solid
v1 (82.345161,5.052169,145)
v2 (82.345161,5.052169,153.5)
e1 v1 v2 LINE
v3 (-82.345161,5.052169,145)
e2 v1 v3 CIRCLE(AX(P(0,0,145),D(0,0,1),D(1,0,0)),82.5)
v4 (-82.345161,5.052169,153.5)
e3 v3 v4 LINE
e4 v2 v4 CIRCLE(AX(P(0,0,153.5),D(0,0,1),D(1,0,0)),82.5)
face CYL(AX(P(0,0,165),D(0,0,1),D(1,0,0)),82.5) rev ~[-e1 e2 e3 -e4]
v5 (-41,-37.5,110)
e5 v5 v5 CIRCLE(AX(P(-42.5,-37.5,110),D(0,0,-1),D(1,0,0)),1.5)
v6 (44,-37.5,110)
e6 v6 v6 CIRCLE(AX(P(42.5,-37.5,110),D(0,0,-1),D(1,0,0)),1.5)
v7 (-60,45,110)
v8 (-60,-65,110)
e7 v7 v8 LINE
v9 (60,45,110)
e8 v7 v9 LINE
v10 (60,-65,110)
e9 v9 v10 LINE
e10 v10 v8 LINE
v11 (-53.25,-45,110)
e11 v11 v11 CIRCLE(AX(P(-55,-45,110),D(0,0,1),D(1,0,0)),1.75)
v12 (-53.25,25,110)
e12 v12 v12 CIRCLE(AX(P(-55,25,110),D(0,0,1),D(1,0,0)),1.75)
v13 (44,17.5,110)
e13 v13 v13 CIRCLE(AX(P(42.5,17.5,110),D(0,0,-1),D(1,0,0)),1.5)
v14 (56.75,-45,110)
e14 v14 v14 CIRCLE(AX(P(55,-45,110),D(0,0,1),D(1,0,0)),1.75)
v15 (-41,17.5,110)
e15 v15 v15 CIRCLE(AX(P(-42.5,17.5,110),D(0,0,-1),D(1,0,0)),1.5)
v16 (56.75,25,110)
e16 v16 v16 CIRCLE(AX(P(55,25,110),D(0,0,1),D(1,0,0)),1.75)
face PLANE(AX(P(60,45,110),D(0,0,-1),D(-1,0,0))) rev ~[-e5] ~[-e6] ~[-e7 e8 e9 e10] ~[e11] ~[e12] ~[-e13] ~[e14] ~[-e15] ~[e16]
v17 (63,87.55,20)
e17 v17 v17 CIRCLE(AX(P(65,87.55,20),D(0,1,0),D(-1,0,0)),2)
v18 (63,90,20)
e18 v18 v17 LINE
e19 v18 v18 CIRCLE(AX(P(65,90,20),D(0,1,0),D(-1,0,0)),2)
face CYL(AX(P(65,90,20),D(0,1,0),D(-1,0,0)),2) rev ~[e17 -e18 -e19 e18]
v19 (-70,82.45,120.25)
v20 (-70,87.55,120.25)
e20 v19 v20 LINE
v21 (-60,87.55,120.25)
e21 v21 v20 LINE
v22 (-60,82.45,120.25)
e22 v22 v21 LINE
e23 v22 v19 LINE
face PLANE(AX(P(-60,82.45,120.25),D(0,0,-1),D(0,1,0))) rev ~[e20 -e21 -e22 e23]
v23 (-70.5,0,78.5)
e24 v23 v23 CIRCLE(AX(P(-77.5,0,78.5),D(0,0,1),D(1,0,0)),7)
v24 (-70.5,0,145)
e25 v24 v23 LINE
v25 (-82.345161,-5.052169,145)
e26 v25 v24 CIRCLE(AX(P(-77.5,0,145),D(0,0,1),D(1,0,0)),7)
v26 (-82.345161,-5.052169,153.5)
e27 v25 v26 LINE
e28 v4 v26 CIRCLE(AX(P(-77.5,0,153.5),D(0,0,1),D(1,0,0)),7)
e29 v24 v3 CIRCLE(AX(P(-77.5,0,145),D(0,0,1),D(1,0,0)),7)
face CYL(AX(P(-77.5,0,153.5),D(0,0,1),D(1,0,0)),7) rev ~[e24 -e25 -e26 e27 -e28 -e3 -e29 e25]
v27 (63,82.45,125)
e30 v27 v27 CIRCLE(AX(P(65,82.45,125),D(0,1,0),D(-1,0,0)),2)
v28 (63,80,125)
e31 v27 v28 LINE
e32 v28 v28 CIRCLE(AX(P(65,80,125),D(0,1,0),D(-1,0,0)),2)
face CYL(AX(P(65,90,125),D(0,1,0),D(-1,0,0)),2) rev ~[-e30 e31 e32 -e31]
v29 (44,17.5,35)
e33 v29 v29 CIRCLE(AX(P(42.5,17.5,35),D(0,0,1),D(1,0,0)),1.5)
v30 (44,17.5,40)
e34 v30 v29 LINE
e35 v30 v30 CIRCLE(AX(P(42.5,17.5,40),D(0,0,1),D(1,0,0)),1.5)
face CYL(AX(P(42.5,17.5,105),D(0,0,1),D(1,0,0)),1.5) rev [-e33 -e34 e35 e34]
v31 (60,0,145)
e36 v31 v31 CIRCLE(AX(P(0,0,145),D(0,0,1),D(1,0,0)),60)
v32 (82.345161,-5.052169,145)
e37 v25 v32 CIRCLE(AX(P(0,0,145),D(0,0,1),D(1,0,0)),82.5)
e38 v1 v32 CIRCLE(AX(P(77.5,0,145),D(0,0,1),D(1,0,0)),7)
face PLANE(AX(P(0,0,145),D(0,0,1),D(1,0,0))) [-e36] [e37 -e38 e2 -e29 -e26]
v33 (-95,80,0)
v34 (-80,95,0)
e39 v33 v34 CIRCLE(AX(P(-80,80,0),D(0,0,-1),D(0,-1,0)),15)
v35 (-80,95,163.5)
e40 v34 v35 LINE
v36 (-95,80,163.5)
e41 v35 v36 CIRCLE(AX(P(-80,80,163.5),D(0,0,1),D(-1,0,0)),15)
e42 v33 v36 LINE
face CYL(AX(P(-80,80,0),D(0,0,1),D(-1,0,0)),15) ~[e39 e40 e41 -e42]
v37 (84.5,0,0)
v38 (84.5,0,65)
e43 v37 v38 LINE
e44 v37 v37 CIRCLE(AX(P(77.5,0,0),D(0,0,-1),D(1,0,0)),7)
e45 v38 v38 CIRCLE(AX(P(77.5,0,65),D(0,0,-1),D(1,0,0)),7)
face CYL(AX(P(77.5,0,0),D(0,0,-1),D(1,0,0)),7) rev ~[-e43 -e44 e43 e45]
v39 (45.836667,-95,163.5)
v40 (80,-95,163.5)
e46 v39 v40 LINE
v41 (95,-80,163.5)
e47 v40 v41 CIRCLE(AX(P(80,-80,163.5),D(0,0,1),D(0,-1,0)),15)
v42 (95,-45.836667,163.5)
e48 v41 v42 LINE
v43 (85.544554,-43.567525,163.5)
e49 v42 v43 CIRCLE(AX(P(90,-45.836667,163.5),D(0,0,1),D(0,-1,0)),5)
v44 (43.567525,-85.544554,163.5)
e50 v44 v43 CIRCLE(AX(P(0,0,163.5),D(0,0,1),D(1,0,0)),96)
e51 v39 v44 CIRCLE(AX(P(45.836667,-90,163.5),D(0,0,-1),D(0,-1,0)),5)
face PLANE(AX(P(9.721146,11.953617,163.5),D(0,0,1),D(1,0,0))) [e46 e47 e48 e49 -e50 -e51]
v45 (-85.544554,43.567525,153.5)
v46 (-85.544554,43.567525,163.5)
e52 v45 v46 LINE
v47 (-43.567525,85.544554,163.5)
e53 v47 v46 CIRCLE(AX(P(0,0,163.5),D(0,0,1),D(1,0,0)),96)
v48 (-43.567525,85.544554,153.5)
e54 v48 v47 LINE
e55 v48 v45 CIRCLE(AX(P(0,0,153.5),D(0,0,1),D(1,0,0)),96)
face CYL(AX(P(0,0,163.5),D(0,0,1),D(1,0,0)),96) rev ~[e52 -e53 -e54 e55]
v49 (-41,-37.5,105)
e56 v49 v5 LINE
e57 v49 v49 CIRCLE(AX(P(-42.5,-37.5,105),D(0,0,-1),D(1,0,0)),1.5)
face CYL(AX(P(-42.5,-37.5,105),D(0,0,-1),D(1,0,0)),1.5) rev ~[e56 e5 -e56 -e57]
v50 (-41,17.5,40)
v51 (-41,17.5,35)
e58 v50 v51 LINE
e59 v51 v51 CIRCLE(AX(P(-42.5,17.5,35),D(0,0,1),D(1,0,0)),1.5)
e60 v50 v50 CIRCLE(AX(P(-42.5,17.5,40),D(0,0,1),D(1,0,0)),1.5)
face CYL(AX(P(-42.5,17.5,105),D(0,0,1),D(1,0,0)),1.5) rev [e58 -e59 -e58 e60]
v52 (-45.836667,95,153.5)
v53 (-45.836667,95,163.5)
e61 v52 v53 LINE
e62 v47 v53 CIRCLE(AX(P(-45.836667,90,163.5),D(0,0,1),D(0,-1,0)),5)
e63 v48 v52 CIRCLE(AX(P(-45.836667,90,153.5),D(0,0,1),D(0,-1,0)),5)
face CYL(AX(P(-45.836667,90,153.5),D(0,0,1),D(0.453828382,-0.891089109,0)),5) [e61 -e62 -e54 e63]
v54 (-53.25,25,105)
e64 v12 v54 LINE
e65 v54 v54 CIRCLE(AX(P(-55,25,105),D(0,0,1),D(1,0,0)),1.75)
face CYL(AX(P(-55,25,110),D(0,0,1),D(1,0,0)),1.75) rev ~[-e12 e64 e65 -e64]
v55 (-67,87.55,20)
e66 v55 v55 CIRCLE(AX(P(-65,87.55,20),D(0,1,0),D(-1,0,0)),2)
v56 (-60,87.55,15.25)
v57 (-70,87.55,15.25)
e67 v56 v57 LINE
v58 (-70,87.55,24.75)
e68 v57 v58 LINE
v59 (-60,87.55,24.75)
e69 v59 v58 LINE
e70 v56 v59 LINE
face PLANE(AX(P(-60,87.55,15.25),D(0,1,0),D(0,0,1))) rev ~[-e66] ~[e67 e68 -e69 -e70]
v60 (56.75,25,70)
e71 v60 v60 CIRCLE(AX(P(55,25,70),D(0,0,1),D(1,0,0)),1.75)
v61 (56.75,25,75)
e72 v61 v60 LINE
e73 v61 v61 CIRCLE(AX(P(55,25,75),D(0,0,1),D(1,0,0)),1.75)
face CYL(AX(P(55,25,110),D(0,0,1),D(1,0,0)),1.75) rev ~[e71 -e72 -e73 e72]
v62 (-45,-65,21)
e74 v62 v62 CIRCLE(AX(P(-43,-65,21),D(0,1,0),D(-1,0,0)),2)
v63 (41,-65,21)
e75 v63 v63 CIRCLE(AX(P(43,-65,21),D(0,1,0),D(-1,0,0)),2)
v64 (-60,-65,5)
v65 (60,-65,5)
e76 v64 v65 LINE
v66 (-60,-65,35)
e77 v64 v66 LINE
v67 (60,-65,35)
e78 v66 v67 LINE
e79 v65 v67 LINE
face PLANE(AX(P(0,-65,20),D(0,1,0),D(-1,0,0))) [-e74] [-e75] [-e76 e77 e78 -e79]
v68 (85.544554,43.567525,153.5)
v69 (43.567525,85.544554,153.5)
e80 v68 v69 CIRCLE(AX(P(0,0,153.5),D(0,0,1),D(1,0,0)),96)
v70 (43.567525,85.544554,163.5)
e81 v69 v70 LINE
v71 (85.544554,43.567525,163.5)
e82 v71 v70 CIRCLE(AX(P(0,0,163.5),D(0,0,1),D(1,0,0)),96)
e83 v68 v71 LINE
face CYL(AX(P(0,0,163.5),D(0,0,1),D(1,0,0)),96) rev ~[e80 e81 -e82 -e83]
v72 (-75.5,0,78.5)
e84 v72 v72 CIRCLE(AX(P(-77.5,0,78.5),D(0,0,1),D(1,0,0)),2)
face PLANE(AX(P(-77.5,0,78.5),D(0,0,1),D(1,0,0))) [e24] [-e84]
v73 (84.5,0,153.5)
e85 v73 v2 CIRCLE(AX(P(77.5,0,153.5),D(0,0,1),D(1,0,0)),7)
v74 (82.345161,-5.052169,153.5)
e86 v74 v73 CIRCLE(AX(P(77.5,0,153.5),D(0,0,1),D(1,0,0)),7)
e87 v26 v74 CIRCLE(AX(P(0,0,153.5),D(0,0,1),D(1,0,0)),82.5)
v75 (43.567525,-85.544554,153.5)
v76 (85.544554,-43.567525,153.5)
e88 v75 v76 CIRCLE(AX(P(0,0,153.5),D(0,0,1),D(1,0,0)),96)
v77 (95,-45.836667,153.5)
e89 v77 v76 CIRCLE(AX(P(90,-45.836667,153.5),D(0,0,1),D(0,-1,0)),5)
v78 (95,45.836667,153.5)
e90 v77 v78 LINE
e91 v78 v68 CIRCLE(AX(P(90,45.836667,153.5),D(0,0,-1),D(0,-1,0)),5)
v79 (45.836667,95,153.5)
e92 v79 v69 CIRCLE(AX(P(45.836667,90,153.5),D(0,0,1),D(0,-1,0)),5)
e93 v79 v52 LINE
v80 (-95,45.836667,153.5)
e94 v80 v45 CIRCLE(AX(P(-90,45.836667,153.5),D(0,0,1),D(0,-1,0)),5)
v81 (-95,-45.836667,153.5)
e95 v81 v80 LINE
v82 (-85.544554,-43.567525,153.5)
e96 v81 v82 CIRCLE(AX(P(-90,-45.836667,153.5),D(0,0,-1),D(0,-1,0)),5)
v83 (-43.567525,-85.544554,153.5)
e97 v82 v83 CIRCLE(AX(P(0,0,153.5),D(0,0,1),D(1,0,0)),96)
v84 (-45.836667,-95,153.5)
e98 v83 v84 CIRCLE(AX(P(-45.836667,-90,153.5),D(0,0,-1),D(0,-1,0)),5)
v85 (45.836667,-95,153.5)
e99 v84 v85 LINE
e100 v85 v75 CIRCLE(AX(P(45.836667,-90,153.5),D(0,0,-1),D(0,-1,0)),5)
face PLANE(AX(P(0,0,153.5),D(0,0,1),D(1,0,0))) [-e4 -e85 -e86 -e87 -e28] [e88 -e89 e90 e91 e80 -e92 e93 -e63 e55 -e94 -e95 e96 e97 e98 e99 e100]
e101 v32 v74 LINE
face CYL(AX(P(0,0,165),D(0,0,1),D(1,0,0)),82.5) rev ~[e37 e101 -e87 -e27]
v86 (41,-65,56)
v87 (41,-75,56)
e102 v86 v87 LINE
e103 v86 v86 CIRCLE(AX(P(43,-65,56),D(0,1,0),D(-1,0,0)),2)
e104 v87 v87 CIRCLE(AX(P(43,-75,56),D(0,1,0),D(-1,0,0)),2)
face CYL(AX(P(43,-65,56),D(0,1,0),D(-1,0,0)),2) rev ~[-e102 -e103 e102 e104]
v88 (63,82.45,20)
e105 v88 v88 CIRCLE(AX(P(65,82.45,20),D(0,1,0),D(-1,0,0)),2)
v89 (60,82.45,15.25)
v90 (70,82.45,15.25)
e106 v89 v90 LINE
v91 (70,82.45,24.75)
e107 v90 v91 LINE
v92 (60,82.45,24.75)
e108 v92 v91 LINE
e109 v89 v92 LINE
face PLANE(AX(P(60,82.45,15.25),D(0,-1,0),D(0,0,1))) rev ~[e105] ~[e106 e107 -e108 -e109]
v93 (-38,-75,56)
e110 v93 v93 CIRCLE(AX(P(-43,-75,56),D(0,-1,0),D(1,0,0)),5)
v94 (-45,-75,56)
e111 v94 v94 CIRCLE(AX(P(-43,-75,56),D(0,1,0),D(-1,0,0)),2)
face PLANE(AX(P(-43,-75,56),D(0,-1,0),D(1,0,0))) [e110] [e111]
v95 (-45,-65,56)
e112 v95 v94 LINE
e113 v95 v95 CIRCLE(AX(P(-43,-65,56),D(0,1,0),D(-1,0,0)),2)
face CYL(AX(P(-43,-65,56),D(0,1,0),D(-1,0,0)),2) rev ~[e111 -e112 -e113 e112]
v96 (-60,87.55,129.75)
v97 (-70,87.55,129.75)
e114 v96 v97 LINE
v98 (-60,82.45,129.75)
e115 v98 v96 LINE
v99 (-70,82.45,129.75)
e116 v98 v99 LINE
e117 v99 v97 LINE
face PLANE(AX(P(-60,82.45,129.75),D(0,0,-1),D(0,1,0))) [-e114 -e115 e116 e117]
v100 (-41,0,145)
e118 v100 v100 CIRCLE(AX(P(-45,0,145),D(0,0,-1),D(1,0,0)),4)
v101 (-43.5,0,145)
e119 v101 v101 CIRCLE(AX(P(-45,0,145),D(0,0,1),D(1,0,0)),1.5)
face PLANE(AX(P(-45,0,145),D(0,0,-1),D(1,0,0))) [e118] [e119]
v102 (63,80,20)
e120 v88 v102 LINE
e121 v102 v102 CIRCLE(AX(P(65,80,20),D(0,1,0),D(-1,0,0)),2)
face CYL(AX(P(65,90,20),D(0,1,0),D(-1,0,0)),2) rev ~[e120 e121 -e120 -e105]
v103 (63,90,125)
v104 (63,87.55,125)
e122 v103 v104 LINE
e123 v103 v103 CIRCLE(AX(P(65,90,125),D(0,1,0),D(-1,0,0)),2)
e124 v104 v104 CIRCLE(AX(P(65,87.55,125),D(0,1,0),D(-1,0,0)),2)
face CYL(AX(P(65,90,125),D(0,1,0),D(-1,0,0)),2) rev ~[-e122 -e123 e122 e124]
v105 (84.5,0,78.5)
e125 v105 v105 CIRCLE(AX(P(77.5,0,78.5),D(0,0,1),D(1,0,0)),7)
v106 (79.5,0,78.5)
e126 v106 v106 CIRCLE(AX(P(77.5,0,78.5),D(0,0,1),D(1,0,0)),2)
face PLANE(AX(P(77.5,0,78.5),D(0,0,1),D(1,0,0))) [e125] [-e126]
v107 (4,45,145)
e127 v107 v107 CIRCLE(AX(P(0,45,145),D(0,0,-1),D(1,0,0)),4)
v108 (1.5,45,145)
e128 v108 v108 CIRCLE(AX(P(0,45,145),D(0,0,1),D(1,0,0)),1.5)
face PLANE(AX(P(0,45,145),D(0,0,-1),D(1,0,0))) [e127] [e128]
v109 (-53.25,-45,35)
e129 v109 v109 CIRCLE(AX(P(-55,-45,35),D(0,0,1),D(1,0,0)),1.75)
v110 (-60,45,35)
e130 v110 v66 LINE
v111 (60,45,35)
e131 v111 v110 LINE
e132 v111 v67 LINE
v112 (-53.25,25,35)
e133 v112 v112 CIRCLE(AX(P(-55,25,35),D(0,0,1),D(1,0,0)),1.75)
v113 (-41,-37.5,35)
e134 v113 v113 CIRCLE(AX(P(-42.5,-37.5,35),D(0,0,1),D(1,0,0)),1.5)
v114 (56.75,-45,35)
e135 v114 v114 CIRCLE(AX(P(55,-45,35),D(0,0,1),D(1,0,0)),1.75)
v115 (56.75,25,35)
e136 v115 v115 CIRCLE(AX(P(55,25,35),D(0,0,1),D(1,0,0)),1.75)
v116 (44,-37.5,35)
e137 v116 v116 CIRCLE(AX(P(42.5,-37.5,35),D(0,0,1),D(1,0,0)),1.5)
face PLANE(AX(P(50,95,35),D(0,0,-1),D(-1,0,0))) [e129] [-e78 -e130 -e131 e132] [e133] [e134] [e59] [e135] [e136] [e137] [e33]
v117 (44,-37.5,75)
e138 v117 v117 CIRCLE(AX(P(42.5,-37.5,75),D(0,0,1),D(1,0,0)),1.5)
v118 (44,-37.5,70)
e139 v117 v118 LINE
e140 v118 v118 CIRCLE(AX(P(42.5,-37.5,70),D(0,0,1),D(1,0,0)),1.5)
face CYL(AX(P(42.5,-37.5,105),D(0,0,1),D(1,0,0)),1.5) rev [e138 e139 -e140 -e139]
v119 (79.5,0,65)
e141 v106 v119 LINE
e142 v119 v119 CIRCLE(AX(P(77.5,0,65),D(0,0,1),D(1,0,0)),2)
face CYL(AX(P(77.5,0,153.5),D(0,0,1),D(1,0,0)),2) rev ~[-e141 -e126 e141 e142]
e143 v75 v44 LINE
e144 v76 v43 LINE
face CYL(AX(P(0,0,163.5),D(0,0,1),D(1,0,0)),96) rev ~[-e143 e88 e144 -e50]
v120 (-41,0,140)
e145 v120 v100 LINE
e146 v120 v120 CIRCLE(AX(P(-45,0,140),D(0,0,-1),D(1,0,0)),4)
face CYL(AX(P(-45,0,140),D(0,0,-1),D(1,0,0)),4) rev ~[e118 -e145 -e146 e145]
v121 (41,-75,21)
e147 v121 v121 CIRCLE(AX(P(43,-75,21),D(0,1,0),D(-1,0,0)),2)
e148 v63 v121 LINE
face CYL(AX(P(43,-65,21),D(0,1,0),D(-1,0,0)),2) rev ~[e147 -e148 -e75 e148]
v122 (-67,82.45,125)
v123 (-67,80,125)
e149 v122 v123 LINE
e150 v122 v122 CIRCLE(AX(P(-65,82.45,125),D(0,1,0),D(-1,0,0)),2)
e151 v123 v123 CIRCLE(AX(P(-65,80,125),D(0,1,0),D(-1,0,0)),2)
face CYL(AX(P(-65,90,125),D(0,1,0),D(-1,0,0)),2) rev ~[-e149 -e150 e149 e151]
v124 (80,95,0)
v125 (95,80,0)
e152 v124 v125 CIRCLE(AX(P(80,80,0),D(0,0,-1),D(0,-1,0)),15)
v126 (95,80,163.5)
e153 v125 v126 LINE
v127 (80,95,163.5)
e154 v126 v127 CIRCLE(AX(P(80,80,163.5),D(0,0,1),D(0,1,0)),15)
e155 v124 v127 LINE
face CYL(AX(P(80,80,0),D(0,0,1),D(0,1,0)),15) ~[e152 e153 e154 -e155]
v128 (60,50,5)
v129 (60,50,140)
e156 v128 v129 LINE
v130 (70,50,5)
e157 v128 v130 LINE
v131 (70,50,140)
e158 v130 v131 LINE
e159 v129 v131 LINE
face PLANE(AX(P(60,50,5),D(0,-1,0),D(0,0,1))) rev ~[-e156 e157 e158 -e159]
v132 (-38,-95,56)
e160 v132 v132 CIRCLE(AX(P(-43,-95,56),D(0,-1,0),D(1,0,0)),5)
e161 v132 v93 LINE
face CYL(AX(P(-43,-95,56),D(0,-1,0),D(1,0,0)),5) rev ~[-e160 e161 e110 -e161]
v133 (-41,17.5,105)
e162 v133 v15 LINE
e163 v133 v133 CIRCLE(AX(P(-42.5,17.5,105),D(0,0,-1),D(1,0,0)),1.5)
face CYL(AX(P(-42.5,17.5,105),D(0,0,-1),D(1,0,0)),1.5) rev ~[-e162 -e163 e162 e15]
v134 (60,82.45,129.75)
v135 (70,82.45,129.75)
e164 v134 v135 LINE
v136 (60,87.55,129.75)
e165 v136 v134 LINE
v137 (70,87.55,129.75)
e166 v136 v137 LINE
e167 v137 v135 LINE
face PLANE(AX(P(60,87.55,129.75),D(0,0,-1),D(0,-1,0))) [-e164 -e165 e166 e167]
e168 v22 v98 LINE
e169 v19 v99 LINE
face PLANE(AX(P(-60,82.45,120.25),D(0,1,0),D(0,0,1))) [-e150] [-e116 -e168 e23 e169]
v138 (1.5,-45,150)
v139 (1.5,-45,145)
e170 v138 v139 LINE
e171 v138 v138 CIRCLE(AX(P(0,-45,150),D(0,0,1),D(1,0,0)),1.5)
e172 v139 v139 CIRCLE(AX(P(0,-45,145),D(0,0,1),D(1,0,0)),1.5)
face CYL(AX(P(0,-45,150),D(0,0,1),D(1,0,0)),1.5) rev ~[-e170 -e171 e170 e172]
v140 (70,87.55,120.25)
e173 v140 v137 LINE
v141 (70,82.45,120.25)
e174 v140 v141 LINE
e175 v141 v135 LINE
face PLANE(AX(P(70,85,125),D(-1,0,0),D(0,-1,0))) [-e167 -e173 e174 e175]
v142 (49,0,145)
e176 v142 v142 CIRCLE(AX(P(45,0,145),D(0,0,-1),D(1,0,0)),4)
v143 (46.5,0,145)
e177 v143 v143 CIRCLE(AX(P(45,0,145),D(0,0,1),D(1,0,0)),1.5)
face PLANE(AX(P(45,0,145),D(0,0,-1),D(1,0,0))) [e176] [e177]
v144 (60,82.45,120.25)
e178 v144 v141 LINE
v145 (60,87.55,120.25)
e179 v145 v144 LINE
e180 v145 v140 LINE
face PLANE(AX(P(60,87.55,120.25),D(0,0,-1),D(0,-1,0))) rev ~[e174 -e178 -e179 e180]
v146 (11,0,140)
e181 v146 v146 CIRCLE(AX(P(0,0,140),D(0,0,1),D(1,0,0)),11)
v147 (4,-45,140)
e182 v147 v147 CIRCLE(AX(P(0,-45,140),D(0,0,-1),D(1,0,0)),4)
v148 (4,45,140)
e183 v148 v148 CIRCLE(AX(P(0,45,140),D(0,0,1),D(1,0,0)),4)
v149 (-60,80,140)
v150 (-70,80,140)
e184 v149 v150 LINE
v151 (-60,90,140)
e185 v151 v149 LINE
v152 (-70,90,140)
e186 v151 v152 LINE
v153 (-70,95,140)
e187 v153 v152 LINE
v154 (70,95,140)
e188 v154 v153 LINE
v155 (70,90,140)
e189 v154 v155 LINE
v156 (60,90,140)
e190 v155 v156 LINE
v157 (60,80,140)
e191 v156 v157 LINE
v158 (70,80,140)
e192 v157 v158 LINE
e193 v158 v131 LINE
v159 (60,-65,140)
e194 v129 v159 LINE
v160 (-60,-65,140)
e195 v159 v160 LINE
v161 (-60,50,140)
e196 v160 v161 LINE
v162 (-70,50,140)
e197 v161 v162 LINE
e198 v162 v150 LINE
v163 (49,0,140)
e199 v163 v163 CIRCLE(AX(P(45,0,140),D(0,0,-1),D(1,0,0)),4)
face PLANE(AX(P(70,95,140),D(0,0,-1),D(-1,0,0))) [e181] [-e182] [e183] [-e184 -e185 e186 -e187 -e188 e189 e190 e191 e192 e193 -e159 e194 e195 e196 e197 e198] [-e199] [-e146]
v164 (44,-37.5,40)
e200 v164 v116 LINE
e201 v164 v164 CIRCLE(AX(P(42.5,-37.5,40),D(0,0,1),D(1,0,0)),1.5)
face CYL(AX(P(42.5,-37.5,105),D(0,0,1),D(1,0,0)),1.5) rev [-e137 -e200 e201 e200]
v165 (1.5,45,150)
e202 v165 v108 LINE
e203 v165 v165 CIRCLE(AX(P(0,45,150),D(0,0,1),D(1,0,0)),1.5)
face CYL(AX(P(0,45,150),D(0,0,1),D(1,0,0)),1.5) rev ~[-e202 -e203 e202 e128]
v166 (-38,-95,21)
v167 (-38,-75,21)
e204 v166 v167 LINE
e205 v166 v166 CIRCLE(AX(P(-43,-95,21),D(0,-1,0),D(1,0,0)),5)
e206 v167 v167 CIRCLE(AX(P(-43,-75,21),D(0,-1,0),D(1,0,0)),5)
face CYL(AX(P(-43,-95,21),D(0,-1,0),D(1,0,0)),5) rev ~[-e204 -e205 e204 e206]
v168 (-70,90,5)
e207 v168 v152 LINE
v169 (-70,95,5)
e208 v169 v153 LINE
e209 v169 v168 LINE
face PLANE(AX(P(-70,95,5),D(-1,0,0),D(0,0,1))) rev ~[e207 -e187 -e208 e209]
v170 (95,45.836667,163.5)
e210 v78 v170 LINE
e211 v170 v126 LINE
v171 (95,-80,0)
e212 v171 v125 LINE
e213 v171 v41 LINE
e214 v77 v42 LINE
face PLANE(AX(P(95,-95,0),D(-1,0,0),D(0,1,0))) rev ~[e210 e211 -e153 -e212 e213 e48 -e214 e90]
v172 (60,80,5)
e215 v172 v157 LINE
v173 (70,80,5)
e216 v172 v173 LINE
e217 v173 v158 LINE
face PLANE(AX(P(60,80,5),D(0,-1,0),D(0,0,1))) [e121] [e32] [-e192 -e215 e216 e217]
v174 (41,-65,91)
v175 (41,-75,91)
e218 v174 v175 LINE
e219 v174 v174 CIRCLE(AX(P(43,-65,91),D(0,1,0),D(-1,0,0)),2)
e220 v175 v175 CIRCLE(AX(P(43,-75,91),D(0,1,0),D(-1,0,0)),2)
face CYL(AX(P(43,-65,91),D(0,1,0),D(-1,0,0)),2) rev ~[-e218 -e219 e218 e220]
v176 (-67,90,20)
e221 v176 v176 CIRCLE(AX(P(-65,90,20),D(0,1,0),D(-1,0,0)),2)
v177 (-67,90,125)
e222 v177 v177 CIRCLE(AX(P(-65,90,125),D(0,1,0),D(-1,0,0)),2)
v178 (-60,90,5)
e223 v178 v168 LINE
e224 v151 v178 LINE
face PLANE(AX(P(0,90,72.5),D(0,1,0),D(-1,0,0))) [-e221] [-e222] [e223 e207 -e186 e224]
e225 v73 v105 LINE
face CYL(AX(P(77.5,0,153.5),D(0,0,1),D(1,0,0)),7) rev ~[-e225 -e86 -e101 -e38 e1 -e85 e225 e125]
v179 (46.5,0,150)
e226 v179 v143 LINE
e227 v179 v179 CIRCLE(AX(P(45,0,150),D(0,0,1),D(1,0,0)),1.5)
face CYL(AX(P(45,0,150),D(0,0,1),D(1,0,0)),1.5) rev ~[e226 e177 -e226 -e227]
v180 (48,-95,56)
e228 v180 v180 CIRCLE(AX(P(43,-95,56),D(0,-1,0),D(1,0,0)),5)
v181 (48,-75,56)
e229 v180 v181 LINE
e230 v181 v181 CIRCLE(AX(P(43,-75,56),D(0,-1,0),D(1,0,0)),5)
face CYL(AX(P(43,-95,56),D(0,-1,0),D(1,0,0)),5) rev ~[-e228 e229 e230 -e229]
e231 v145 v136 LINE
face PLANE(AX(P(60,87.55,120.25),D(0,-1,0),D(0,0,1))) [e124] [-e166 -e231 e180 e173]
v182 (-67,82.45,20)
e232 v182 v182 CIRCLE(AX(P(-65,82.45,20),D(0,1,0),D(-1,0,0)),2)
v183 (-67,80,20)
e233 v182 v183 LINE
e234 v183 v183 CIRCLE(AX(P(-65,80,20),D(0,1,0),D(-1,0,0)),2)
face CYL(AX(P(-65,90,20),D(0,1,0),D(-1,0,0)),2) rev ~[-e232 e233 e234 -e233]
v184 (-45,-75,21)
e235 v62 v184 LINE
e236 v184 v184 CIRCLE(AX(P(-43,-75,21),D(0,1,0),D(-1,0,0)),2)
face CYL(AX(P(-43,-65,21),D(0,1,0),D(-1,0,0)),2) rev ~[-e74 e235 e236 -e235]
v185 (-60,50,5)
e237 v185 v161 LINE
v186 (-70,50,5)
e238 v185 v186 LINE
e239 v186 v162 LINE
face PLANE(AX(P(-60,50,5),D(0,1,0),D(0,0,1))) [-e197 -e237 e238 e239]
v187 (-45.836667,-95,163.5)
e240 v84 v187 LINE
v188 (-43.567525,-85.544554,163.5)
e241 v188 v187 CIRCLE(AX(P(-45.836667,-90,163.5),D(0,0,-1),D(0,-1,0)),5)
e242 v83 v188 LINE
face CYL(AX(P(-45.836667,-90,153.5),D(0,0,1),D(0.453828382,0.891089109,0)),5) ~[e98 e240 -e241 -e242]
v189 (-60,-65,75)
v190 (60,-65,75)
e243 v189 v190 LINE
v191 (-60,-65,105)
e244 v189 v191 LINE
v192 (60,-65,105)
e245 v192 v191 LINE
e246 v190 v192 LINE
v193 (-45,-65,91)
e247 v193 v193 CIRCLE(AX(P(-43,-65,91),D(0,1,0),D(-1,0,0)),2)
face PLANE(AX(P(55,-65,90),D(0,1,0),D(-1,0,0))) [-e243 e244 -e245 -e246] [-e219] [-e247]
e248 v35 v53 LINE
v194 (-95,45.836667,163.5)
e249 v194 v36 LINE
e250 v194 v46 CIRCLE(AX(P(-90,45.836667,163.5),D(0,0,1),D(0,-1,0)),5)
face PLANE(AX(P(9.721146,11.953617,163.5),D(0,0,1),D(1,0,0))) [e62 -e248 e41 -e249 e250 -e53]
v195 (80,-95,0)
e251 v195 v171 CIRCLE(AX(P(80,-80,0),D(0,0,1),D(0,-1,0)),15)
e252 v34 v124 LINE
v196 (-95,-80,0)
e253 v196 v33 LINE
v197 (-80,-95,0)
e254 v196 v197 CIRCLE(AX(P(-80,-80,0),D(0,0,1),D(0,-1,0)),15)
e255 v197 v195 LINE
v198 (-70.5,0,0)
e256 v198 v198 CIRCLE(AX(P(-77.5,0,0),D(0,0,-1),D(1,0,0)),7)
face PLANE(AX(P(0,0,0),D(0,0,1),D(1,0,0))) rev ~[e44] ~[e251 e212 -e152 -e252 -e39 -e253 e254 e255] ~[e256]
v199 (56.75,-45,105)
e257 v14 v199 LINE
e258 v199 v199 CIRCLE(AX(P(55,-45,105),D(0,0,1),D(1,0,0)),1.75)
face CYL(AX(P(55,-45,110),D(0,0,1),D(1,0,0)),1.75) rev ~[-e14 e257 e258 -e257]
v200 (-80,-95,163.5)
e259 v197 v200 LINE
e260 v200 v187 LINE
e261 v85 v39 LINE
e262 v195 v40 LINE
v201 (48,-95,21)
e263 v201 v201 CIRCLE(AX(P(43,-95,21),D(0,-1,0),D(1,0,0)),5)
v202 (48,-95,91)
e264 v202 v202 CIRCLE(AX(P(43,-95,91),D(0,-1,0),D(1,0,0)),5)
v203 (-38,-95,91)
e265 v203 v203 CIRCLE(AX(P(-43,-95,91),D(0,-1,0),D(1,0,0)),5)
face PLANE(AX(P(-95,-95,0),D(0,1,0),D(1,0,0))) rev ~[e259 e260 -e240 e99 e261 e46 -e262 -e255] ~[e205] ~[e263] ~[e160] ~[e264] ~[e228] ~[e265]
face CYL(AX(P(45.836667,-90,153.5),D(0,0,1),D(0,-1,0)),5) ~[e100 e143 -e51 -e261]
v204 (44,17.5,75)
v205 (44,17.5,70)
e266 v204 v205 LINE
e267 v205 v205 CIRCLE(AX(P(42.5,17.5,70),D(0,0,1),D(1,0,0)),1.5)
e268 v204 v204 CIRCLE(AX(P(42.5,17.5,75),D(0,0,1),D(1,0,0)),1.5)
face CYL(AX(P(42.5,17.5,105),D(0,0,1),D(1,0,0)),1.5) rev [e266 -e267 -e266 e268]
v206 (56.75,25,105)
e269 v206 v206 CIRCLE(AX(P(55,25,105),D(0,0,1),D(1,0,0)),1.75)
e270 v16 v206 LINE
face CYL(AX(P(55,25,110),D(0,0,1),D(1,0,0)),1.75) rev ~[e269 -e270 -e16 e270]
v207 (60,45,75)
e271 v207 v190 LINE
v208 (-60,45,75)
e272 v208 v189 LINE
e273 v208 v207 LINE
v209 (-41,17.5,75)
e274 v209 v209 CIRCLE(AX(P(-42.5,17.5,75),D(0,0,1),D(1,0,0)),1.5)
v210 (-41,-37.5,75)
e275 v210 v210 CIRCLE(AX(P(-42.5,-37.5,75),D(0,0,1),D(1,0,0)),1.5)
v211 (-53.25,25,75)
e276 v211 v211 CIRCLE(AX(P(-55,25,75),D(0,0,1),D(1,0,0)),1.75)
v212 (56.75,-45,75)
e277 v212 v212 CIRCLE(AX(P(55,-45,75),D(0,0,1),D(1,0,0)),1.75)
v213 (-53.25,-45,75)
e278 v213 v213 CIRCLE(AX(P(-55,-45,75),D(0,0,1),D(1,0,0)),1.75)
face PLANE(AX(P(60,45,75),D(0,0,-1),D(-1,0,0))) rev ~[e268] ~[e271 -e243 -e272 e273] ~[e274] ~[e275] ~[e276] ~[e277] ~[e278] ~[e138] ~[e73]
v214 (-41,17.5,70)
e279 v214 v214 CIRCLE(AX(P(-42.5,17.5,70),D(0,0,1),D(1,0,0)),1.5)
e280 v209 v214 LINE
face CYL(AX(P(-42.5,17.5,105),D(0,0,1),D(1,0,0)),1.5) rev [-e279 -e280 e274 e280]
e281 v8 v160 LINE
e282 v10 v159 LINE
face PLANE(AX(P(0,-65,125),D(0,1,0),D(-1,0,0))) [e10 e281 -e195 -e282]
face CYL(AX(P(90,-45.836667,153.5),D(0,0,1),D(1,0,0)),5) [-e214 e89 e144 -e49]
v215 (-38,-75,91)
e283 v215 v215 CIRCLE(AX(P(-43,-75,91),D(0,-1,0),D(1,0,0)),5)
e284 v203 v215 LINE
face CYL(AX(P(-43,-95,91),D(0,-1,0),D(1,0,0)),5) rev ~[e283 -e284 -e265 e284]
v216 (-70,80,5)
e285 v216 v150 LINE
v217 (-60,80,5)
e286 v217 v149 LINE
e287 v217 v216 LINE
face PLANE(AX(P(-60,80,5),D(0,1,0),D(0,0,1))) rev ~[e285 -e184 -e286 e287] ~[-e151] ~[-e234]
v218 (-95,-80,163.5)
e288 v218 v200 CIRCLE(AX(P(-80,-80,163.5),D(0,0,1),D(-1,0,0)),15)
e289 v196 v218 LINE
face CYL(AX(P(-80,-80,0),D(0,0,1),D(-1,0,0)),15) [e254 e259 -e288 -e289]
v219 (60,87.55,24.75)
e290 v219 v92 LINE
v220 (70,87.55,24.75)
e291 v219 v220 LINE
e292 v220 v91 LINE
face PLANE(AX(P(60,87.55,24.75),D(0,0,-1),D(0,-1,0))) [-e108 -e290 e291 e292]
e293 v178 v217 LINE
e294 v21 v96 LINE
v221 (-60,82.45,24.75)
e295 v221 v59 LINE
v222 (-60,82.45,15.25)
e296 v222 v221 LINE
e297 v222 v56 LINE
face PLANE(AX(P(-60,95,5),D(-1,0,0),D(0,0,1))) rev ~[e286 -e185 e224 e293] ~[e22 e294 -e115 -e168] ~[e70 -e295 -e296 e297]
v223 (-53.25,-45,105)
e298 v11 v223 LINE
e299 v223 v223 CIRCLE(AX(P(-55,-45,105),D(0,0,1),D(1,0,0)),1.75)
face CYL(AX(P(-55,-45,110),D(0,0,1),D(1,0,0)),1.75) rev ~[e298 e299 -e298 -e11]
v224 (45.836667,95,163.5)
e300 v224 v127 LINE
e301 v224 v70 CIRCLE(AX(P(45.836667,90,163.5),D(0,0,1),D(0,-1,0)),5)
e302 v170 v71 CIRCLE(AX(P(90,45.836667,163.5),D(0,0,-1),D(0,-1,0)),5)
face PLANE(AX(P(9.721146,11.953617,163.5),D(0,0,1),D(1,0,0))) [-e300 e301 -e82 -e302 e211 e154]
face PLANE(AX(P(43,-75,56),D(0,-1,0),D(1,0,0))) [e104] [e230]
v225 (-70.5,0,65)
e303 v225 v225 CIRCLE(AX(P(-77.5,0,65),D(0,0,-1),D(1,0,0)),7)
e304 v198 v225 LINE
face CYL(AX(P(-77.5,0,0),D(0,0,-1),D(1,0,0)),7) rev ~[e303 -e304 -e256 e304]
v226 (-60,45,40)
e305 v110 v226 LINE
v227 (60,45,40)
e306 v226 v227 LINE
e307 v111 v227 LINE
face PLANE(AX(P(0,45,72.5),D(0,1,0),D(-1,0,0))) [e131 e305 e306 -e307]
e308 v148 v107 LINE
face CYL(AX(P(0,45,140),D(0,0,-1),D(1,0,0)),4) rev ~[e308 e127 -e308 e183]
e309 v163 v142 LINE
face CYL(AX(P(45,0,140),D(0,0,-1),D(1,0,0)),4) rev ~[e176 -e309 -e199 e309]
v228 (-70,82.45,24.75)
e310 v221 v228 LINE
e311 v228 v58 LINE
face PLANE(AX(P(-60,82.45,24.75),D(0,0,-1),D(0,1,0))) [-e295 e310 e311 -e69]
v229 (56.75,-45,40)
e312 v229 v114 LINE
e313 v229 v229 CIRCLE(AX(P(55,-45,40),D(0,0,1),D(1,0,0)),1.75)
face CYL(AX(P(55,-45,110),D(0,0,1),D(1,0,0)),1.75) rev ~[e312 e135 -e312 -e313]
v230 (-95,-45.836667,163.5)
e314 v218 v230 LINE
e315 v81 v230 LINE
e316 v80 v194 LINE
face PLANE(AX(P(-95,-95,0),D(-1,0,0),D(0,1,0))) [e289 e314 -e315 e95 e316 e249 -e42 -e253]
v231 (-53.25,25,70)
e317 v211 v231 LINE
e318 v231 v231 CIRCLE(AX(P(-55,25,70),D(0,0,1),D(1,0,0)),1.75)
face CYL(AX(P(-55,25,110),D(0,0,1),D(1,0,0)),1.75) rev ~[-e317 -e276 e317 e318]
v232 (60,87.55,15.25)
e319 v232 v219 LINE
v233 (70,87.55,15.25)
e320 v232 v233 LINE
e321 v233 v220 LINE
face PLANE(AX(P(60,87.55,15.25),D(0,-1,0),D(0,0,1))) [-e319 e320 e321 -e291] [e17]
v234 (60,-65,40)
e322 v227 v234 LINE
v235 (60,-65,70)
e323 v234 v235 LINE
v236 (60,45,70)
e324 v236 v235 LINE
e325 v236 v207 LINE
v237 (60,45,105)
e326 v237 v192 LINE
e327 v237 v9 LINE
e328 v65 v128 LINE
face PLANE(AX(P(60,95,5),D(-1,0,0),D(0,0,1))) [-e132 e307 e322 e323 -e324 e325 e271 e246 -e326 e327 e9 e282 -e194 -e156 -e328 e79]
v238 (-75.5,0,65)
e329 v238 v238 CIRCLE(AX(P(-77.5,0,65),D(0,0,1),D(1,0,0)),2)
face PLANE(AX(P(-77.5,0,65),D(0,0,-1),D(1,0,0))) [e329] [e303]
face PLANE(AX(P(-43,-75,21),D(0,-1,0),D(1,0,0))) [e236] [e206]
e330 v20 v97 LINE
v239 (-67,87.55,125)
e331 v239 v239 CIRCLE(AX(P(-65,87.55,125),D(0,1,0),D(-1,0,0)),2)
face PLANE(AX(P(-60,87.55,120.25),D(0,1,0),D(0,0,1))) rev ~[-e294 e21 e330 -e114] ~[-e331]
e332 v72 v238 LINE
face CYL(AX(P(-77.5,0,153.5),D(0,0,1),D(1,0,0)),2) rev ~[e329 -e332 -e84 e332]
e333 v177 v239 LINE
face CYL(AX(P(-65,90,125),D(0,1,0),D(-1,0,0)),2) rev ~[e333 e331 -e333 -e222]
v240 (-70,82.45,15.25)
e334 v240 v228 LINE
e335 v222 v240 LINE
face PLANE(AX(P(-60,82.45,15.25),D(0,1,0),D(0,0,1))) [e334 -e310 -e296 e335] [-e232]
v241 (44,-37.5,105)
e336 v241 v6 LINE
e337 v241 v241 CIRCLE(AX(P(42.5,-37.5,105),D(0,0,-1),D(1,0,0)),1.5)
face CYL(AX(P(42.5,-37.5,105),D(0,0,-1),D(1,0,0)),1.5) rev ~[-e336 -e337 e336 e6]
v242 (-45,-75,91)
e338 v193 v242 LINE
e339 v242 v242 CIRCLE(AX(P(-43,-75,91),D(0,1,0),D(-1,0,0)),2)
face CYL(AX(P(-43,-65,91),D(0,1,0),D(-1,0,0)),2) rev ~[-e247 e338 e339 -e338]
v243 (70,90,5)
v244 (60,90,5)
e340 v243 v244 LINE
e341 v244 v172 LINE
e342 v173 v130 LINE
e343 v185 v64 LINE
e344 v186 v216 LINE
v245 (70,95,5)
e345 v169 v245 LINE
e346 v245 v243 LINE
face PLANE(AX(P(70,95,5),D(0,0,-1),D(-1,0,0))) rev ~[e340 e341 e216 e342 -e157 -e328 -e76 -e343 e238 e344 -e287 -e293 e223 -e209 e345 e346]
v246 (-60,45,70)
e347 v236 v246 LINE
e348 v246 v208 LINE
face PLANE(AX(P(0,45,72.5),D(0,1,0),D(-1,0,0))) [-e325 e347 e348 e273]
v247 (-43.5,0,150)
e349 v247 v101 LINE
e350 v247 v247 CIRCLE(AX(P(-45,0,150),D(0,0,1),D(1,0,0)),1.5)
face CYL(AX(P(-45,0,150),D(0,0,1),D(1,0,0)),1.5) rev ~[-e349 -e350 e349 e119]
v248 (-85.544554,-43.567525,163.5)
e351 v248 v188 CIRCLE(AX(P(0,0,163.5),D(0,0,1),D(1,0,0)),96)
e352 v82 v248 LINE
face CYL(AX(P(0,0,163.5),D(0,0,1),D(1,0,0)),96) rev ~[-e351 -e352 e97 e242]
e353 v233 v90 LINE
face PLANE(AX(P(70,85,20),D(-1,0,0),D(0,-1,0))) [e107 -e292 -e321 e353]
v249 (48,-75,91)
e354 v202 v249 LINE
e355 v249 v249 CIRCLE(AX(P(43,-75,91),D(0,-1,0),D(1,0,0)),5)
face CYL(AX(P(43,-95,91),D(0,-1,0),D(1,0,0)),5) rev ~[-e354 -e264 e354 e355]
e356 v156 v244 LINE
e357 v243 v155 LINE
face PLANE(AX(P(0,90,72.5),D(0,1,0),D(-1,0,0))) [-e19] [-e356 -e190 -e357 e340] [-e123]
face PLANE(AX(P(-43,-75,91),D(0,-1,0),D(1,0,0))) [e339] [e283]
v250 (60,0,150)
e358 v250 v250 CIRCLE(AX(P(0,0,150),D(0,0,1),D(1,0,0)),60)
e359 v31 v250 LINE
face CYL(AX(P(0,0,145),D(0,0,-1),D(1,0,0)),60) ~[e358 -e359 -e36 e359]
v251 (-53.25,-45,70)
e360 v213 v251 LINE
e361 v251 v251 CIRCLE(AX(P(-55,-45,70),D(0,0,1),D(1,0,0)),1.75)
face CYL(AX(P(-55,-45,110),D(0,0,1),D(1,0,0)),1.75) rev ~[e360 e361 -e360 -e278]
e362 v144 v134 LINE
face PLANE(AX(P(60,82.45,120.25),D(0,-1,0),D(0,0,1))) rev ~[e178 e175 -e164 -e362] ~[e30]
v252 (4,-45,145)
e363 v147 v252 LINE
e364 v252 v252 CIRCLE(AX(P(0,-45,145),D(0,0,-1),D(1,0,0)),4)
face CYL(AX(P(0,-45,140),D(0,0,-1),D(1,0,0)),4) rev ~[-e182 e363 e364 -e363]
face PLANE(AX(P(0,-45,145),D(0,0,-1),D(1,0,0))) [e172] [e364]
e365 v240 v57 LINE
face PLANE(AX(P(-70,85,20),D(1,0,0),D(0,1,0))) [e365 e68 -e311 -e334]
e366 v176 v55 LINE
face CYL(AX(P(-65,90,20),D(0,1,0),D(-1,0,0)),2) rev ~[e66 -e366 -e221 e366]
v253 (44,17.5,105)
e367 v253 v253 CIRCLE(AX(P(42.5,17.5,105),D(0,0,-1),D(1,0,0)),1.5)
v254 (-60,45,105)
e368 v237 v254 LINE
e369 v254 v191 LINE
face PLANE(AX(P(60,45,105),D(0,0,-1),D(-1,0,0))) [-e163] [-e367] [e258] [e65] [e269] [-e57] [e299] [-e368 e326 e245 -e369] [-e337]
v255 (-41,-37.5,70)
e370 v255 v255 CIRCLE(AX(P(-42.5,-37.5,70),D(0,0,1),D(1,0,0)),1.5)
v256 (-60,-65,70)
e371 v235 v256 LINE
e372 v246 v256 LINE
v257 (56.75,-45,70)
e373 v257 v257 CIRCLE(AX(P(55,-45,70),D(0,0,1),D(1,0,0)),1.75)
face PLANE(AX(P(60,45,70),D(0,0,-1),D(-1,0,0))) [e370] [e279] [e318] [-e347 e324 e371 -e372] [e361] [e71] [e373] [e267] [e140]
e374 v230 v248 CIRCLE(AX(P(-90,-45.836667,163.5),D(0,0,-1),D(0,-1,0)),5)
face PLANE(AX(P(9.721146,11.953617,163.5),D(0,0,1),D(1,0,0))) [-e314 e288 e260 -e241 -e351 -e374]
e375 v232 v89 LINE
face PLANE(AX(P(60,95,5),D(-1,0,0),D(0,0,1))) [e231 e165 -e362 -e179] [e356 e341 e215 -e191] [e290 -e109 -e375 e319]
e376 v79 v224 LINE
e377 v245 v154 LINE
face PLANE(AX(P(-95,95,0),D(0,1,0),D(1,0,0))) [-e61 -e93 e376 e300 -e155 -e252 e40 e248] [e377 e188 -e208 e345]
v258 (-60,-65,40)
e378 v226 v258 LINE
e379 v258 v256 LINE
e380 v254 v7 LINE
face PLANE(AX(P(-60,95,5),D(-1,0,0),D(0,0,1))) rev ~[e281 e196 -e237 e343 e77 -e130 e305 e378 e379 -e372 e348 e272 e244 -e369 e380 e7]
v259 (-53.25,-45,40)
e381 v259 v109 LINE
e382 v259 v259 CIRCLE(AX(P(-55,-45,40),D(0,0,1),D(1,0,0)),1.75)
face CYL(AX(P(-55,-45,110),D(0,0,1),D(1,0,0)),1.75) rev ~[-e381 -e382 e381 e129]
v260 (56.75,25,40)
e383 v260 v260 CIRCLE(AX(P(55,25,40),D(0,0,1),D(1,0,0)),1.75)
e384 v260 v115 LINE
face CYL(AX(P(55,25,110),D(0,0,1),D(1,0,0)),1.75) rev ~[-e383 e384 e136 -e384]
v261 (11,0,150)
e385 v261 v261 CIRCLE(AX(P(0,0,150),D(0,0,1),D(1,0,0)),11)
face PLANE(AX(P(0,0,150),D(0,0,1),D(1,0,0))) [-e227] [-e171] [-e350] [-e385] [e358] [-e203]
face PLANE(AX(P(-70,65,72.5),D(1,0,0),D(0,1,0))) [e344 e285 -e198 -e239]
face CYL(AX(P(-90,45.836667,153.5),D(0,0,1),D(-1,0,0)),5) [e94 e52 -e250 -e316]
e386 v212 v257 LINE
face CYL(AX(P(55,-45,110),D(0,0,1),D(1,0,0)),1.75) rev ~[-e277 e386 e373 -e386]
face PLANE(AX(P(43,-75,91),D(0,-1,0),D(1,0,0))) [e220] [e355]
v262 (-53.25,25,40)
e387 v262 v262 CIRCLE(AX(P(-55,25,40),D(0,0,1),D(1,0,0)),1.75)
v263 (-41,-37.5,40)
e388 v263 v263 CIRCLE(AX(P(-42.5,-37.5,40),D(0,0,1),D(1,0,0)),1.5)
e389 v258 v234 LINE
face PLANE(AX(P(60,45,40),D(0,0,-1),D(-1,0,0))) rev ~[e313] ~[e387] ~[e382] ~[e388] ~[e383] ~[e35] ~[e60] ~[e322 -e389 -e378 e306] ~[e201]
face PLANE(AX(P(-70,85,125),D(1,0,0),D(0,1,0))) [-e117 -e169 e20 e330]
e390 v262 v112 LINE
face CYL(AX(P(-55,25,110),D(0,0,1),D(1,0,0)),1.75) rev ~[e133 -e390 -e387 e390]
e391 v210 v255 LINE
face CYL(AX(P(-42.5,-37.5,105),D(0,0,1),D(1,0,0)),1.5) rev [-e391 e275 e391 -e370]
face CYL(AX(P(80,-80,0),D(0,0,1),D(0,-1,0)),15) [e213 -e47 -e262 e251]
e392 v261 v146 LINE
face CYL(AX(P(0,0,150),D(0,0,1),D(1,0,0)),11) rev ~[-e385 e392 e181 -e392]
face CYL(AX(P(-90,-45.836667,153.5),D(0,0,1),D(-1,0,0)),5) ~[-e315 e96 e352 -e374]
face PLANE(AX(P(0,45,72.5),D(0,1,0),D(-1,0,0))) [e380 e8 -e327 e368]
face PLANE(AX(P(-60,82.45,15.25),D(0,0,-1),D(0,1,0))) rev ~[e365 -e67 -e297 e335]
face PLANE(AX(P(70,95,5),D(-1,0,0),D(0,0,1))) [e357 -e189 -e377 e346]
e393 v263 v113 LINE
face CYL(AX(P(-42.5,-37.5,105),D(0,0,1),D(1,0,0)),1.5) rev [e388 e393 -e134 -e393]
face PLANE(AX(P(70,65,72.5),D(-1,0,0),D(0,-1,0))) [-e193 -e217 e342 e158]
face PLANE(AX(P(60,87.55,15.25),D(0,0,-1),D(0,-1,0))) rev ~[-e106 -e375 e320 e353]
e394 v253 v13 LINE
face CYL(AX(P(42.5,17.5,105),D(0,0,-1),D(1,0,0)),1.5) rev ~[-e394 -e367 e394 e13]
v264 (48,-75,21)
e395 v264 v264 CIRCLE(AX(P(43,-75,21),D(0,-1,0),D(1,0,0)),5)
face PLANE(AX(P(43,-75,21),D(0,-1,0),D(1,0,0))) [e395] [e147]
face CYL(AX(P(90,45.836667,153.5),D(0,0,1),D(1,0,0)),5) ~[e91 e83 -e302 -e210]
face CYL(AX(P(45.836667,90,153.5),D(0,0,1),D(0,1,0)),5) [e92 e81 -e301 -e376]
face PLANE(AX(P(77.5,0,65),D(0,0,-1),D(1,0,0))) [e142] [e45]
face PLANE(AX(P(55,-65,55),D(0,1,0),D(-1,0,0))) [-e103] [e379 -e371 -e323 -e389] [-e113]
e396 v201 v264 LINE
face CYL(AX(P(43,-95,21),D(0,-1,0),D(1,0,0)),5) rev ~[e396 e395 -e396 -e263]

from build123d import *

# Parameters (mm, degrees)
SKETCH_W             = 190
SKETCH_H             = 190
PAD_DEPTH            = 165
SKETCH001_R          = 82.5
POCKET_DEPTH         = 20
SKETCH002_R          = 60
PAD001_DEPTH         = 5
FILLET_R             = 15
SKETCH003_W          = 100
SKETCH003_H          = 30
POCKET001_DEPTH      = 160
SKETCH004_W          = 120
SKETCH004_H          = 135
POCKET002_DEPTH      = 50
SKETCH005_R          = 1.5
POCKET003_DEPTH      = 10
SKETCH006_R          = 4
POCKET004_DEPTH      = 5
SKETCH007_R          = 11
POCKET005_DEPTH      = 10
SKETCH008_W          = 140
SKETCH008_H          = 135
POCKET006_DEPTH      = 5
SKETCH009_W          = 30
SKETCH009_H          = 135
POCKET007_DEPTH      = 10
SKETCH010_W          = 30
SKETCH010_H          = 135
POCKET008_DEPTH      = 10
SKETCH011_W          = 304.305817
SKETCH011_H          = 239.475426
POCKET009_DEPTH      = 1.5
SKETCH012_R          = 96
SKETCH012_R_2        = 75
POCKET010_DEPTH      = 10
FILLET001_R          = 5
SKETCH013_R          = 2
POCKET011_DEPTH      = 10
SKETCH014_W          = 5.1
SKETCH014_H          = 9.5
POCKET012_DEPTH      = 10
SKETCH015_R          = 2
POCKET013_DEPTH      = 30.001
SKETCH016_R          = 5
POCKET014_DEPTH      = 20
SKETCH017_W          = 120
SKETCH017_H          = 30
POCKET015_DEPTH      = 110
SKETCH018_R          = 1.5
POCKET016_DEPTH      = 20
POCKET016_DEPTH_BACK = -90
SKETCH019_R          = 2
POCKET017_DEPTH      = 153.501
SKETCH020_R          = 7
POCKET018_DEPTH      = 75
SKETCH021_R          = 7
POCKET019_DEPTH      = 65
SKETCH022_W          = 10
SKETCH022_H          = 30
POCKET020_DEPTH      = 110
SKETCH023_W          = 5.1
SKETCH023_H          = 9.5
POCKET021_DEPTH      = 10
SKETCH024_R          = 1.75
POCKET022_DEPTH      = 92


with BuildPart() as part:
    # Sketch → Pad (new body)
    with BuildSketch(Plane.XY):
        Rectangle(SKETCH_W, SKETCH_H)
    extrude(amount=PAD_DEPTH)

    # Sketch001 (on Face6 of Pad) → Pocket (cut)
    with BuildSketch(Plane.XY.offset(165)):
        Circle(SKETCH001_R)
    extrude(amount=-POCKET_DEPTH, mode=Mode.SUBTRACT)

    # Sketch002 (on Face8 of Pocket) → Pad001 (join)
    with BuildSketch(Plane.XY.offset(145)):
        Circle(SKETCH002_R)
    extrude(amount=PAD001_DEPTH)

    # Fillet
    fillet_edges = [part.edges().sort_by_distance(p)[0] for p in [
        (95, -95, 82.5),
        (-95, -95, 82.5),
        (95, 95, 82.5),
        (-95, 95, 82.5),
    ]]
    fillet(fillet_edges, radius=FILLET_R)

    # Sketch003 (on Face6 of Fillet) → Pocket001 (cut)
    with BuildSketch(Plane(origin=(0, 95, 0), x_dir=(-1, 0, 0), z_dir=(0, 1, 0))):
        with Locations((0, 20)):
            Rectangle(SKETCH003_W, SKETCH003_H)
        with Locations((0, 55)):
            Rectangle(SKETCH003_W, SKETCH003_H)
        with Locations((0, 90)):
            Rectangle(SKETCH003_W, SKETCH003_H)
        with Locations((0, 125)):
            Rectangle(SKETCH003_W, SKETCH003_H)
    extrude(amount=-POCKET001_DEPTH, mode=Mode.SUBTRACT)

    # Sketch004 (on Face6 of Pocket001) → Pocket002 (cut)
    with BuildSketch(Plane(origin=(0, 95, 0), x_dir=(-1, 0, 0), z_dir=(0, 1, 0))):
        with Locations((0, 72.5)):
            Rectangle(SKETCH004_W, SKETCH004_H)
    extrude(amount=-POCKET002_DEPTH, mode=Mode.SUBTRACT)

    # Sketch005 (on Face41 of Pocket002) → Pocket003 (cut)
    with BuildSketch(Plane.XY.offset(150)):
        with Locations((0, 45)):
            Circle(SKETCH005_R)
        with Locations((45, 0)):
            Circle(SKETCH005_R)
        with Locations((0, -45)):
            Circle(SKETCH005_R)
        with Locations((-45, 0)):
            Circle(SKETCH005_R)
    extrude(amount=-POCKET003_DEPTH, mode=Mode.SUBTRACT)

    # Sketch006 (on Face21 of Pocket003) → Pocket004 (cut)
    with BuildSketch(Plane(origin=(0, 0, 140), x_dir=(1, 0, 0), z_dir=(0, 0, -1))):
        with Locations((-45, 0)):
            Circle(SKETCH006_R)
        with Locations((0, -45)):
            Circle(SKETCH006_R)
        with Locations((45, 0)):
            Circle(SKETCH006_R)
        with Locations((0, 45)):
            Circle(SKETCH006_R)
    extrude(amount=-POCKET004_DEPTH, mode=Mode.SUBTRACT)

    # Sketch007 (on Face46 of Pocket004) → Pocket005 (cut)
    with BuildSketch(Plane.XY.offset(150)):
        Circle(SKETCH007_R)
    extrude(amount=-POCKET005_DEPTH, mode=Mode.SUBTRACT)

    # Sketch008 (on Face6 of Pocket005) → Pocket006 (cut)
    with BuildSketch(Plane(origin=(0, 95, 0), x_dir=(-1, 0, 0), z_dir=(0, 1, 0))):
        with Locations((0, 72.5)):
            Rectangle(SKETCH008_W, SKETCH008_H)
    extrude(amount=-POCKET006_DEPTH, mode=Mode.SUBTRACT)

    # Sketch009 (on Face39 of Pocket006) → Pocket007 (cut)
    with BuildSketch(Plane(origin=(60, 0, 0), x_dir=(0, -1, 0), z_dir=(-1, 0, 0))):
        with Locations((-65, 72.5)):
            Rectangle(SKETCH009_W, SKETCH009_H)
    extrude(amount=-POCKET007_DEPTH, mode=Mode.SUBTRACT)

    # Sketch010 (on Face36 of Pocket007) → Pocket008 (cut)
    with BuildSketch(Plane.YZ.offset(-60)):
        with Locations((65, 72.5)):
            Rectangle(SKETCH010_W, SKETCH010_H)
    extrude(amount=-POCKET008_DEPTH, mode=Mode.SUBTRACT)

    # Sketch011 (on Face5 of Pocket008) → Pocket009 (cut)
    with BuildSketch(Plane.XY.offset(165)):
        with Locations((9.721146, 11.953617)):
            Rectangle(SKETCH011_W, SKETCH011_H)
    extrude(amount=-POCKET009_DEPTH, mode=Mode.SUBTRACT)

    # Sketch012 (on Face4 of Pocket009) → Pocket010 (cut)
    with BuildSketch(Plane.XY.offset(163.5)):
        Circle(SKETCH012_R)
        Circle(SKETCH012_R_2, mode=Mode.SUBTRACT)
    extrude(amount=-POCKET010_DEPTH, mode=Mode.SUBTRACT)

    # Fillet001
    fillet001_edges = [part.edges().sort_by_distance(p)[0] for p in [
        (-95, -13.820275, 158.5),
        (-95, 13.820275, 158.5),
        (13.820275, -95, 158.5),
        (-13.820275, -95, 158.5),
        (95, -13.820275, 158.5),
        (95, 13.820275, 158.5),
        (-13.820275, 95, 158.5),
        (13.820275, 95, 158.5),
    ]]
    fillet(fillet001_edges, radius=FILLET001_R)

    # Sketch013 (on Face44 of Fillet001) → Pocket011 (cut)
    with BuildSketch(Plane(origin=(0, 90, 0), x_dir=(-1, 0, 0), z_dir=(0, 1, 0))):
        with Locations((65, 125)):
            Circle(SKETCH013_R)
        with Locations((65, 20)):
            Circle(SKETCH013_R)
        with Locations((-65, 20)):
            Circle(SKETCH013_R)
        with Locations((-65, 125)):
            Circle(SKETCH013_R)
    extrude(amount=-POCKET011_DEPTH, mode=Mode.SUBTRACT)

    # Sketch014 (on Face53 of Pocket011) → Pocket012 (cut)
    with BuildSketch(Plane(origin=(60, 0, 0), x_dir=(0, -1, 0), z_dir=(-1, 0, 0))):
        with Locations((-85, 125)):
            Rectangle(SKETCH014_W, SKETCH014_H)
        with Locations((-85, 20)):
            Rectangle(SKETCH014_W, SKETCH014_H)
    extrude(amount=-POCKET012_DEPTH, mode=Mode.SUBTRACT)

    # Sketch015 (on Face101 of Pocket012) → Pocket013 (cut, through all)
    with BuildSketch(Plane(origin=(0, -65, 0), x_dir=(-1, 0, 0), z_dir=(0, 1, 0))):
        with Locations((-43, 91)):
            Circle(SKETCH015_R)
        with Locations((43, 91)):
            Circle(SKETCH015_R)
        with Locations((-43, 56)):
            Circle(SKETCH015_R)
        with Locations((43, 56)):
            Circle(SKETCH015_R)
        with Locations((-43, 21)):
            Circle(SKETCH015_R)
        with Locations((43, 21)):
            Circle(SKETCH015_R)
    extrude(amount=-POCKET013_DEPTH, mode=Mode.SUBTRACT)

    # Sketch016 (on Face12 of Pocket013) → Pocket014 (cut)
    with BuildSketch(Plane.XZ.offset(95)):
        with Locations((-43, 91)):
            Circle(SKETCH016_R)
        with Locations((-43, 56)):
            Circle(SKETCH016_R)
        with Locations((-43, 21)):
            Circle(SKETCH016_R)
        with Locations((43, 21)):
            Circle(SKETCH016_R)
        with Locations((43, 56)):
            Circle(SKETCH016_R)
        with Locations((43, 91)):
            Circle(SKETCH016_R)
    extrude(amount=-POCKET014_DEPTH, mode=Mode.SUBTRACT)

    # Sketch017 (on Face70 of Pocket014) → Pocket015 (cut)
    with BuildSketch(Plane(origin=(0, 45, 0), x_dir=(-1, 0, 0), z_dir=(0, 1, 0))):
        with Locations((0, 125)):
            Rectangle(SKETCH017_W, SKETCH017_H)
    extrude(amount=-POCKET015_DEPTH, mode=Mode.SUBTRACT)

    # Sketch018 (on Face124 of Pocket015) → Pocket016 (cut, two sides)
    with BuildSketch(Plane(origin=(0, 0, 105), x_dir=(1, 0, 0), z_dir=(0, 0, -1))) as pocket016_sk:
        with Locations((-42.5, -17.5)):
            Circle(SKETCH018_R)
        with Locations((-42.5, 37.5)):
            Circle(SKETCH018_R)
        with Locations((42.5, -17.5)):
            Circle(SKETCH018_R)
        with Locations((42.5, 37.5)):
            Circle(SKETCH018_R)
    extrude(amount=-POCKET016_DEPTH, mode=Mode.SUBTRACT)
    extrude(pocket016_sk.sketch, amount=-POCKET016_DEPTH_BACK, mode=Mode.SUBTRACT)

    # Sketch019 (on Face5 of Pocket016) → Pocket017 (cut, through all)
    with BuildSketch(Plane.XY.offset(153.5)):
        with Locations((-77.5, 0)):
            Circle(SKETCH019_R)
        with Locations((77.5, 0)):
            Circle(SKETCH019_R)
    extrude(amount=-POCKET017_DEPTH, mode=Mode.SUBTRACT)

    # Sketch020 (on Face5 of Pocket017) → Pocket018 (cut)
    with BuildSketch(Plane.XY.offset(153.5)):
        with Locations((-77.5, 0)):
            Circle(SKETCH020_R)
        with Locations((77.5, 0)):
            Circle(SKETCH020_R)
    extrude(amount=-POCKET018_DEPTH, mode=Mode.SUBTRACT)

    # Sketch021 (on Face6 of Pocket018) → Pocket019 (cut)
    with BuildSketch(Plane(origin=(0, 0, 0), x_dir=(1, 0, 0), z_dir=(0, 0, -1))):
        with Locations((77.5, 0)):
            Circle(SKETCH021_R)
        with Locations((-77.5, 0)):
            Circle(SKETCH021_R)
    extrude(amount=-POCKET019_DEPTH, mode=Mode.SUBTRACT)

    # Sketch022 (on Face94 of Pocket019) → Pocket020 (cut)
    with BuildSketch(Plane(origin=(0, 45, 0), x_dir=(-1, 0, 0), z_dir=(0, 1, 0))):
        with Locations((-55, 90)):
            Rectangle(SKETCH022_W, SKETCH022_H)
        with Locations((-55, 55)):
            Rectangle(SKETCH022_W, SKETCH022_H)
        with Locations((-55, 20)):
            Rectangle(SKETCH022_W, SKETCH022_H)
        with Locations((55, 20)):
            Rectangle(SKETCH022_W, SKETCH022_H)
        with Locations((55, 55)):
            Rectangle(SKETCH022_W, SKETCH022_H)
        with Locations((55, 90)):
            Rectangle(SKETCH022_W, SKETCH022_H)
    extrude(amount=-POCKET020_DEPTH, mode=Mode.SUBTRACT)

    # Sketch023 (on Face85 of Pocket020) → Pocket021 (cut)
    with BuildSketch(Plane.YZ.offset(-60)):
        with Locations((85, 20)):
            Rectangle(SKETCH023_W, SKETCH023_H)
        with Locations((85, 125)):
            Rectangle(SKETCH023_W, SKETCH023_H)
    extrude(amount=-POCKET021_DEPTH, mode=Mode.SUBTRACT)

    # Sketch024 (on Face158 of Pocket021) → Pocket022 (cut)
    with BuildSketch(Plane.XY.offset(110)):
        with Locations((55, 25)):
            Circle(SKETCH024_R)
        with Locations((55, -45)):
            Circle(SKETCH024_R)
        with Locations((-55, 25)):
            Circle(SKETCH024_R)
        with Locations((-55, -45)):
            Circle(SKETCH024_R)
    extrude(amount=-POCKET022_DEPTH, mode=Mode.SUBTRACT)


solid = part.part
